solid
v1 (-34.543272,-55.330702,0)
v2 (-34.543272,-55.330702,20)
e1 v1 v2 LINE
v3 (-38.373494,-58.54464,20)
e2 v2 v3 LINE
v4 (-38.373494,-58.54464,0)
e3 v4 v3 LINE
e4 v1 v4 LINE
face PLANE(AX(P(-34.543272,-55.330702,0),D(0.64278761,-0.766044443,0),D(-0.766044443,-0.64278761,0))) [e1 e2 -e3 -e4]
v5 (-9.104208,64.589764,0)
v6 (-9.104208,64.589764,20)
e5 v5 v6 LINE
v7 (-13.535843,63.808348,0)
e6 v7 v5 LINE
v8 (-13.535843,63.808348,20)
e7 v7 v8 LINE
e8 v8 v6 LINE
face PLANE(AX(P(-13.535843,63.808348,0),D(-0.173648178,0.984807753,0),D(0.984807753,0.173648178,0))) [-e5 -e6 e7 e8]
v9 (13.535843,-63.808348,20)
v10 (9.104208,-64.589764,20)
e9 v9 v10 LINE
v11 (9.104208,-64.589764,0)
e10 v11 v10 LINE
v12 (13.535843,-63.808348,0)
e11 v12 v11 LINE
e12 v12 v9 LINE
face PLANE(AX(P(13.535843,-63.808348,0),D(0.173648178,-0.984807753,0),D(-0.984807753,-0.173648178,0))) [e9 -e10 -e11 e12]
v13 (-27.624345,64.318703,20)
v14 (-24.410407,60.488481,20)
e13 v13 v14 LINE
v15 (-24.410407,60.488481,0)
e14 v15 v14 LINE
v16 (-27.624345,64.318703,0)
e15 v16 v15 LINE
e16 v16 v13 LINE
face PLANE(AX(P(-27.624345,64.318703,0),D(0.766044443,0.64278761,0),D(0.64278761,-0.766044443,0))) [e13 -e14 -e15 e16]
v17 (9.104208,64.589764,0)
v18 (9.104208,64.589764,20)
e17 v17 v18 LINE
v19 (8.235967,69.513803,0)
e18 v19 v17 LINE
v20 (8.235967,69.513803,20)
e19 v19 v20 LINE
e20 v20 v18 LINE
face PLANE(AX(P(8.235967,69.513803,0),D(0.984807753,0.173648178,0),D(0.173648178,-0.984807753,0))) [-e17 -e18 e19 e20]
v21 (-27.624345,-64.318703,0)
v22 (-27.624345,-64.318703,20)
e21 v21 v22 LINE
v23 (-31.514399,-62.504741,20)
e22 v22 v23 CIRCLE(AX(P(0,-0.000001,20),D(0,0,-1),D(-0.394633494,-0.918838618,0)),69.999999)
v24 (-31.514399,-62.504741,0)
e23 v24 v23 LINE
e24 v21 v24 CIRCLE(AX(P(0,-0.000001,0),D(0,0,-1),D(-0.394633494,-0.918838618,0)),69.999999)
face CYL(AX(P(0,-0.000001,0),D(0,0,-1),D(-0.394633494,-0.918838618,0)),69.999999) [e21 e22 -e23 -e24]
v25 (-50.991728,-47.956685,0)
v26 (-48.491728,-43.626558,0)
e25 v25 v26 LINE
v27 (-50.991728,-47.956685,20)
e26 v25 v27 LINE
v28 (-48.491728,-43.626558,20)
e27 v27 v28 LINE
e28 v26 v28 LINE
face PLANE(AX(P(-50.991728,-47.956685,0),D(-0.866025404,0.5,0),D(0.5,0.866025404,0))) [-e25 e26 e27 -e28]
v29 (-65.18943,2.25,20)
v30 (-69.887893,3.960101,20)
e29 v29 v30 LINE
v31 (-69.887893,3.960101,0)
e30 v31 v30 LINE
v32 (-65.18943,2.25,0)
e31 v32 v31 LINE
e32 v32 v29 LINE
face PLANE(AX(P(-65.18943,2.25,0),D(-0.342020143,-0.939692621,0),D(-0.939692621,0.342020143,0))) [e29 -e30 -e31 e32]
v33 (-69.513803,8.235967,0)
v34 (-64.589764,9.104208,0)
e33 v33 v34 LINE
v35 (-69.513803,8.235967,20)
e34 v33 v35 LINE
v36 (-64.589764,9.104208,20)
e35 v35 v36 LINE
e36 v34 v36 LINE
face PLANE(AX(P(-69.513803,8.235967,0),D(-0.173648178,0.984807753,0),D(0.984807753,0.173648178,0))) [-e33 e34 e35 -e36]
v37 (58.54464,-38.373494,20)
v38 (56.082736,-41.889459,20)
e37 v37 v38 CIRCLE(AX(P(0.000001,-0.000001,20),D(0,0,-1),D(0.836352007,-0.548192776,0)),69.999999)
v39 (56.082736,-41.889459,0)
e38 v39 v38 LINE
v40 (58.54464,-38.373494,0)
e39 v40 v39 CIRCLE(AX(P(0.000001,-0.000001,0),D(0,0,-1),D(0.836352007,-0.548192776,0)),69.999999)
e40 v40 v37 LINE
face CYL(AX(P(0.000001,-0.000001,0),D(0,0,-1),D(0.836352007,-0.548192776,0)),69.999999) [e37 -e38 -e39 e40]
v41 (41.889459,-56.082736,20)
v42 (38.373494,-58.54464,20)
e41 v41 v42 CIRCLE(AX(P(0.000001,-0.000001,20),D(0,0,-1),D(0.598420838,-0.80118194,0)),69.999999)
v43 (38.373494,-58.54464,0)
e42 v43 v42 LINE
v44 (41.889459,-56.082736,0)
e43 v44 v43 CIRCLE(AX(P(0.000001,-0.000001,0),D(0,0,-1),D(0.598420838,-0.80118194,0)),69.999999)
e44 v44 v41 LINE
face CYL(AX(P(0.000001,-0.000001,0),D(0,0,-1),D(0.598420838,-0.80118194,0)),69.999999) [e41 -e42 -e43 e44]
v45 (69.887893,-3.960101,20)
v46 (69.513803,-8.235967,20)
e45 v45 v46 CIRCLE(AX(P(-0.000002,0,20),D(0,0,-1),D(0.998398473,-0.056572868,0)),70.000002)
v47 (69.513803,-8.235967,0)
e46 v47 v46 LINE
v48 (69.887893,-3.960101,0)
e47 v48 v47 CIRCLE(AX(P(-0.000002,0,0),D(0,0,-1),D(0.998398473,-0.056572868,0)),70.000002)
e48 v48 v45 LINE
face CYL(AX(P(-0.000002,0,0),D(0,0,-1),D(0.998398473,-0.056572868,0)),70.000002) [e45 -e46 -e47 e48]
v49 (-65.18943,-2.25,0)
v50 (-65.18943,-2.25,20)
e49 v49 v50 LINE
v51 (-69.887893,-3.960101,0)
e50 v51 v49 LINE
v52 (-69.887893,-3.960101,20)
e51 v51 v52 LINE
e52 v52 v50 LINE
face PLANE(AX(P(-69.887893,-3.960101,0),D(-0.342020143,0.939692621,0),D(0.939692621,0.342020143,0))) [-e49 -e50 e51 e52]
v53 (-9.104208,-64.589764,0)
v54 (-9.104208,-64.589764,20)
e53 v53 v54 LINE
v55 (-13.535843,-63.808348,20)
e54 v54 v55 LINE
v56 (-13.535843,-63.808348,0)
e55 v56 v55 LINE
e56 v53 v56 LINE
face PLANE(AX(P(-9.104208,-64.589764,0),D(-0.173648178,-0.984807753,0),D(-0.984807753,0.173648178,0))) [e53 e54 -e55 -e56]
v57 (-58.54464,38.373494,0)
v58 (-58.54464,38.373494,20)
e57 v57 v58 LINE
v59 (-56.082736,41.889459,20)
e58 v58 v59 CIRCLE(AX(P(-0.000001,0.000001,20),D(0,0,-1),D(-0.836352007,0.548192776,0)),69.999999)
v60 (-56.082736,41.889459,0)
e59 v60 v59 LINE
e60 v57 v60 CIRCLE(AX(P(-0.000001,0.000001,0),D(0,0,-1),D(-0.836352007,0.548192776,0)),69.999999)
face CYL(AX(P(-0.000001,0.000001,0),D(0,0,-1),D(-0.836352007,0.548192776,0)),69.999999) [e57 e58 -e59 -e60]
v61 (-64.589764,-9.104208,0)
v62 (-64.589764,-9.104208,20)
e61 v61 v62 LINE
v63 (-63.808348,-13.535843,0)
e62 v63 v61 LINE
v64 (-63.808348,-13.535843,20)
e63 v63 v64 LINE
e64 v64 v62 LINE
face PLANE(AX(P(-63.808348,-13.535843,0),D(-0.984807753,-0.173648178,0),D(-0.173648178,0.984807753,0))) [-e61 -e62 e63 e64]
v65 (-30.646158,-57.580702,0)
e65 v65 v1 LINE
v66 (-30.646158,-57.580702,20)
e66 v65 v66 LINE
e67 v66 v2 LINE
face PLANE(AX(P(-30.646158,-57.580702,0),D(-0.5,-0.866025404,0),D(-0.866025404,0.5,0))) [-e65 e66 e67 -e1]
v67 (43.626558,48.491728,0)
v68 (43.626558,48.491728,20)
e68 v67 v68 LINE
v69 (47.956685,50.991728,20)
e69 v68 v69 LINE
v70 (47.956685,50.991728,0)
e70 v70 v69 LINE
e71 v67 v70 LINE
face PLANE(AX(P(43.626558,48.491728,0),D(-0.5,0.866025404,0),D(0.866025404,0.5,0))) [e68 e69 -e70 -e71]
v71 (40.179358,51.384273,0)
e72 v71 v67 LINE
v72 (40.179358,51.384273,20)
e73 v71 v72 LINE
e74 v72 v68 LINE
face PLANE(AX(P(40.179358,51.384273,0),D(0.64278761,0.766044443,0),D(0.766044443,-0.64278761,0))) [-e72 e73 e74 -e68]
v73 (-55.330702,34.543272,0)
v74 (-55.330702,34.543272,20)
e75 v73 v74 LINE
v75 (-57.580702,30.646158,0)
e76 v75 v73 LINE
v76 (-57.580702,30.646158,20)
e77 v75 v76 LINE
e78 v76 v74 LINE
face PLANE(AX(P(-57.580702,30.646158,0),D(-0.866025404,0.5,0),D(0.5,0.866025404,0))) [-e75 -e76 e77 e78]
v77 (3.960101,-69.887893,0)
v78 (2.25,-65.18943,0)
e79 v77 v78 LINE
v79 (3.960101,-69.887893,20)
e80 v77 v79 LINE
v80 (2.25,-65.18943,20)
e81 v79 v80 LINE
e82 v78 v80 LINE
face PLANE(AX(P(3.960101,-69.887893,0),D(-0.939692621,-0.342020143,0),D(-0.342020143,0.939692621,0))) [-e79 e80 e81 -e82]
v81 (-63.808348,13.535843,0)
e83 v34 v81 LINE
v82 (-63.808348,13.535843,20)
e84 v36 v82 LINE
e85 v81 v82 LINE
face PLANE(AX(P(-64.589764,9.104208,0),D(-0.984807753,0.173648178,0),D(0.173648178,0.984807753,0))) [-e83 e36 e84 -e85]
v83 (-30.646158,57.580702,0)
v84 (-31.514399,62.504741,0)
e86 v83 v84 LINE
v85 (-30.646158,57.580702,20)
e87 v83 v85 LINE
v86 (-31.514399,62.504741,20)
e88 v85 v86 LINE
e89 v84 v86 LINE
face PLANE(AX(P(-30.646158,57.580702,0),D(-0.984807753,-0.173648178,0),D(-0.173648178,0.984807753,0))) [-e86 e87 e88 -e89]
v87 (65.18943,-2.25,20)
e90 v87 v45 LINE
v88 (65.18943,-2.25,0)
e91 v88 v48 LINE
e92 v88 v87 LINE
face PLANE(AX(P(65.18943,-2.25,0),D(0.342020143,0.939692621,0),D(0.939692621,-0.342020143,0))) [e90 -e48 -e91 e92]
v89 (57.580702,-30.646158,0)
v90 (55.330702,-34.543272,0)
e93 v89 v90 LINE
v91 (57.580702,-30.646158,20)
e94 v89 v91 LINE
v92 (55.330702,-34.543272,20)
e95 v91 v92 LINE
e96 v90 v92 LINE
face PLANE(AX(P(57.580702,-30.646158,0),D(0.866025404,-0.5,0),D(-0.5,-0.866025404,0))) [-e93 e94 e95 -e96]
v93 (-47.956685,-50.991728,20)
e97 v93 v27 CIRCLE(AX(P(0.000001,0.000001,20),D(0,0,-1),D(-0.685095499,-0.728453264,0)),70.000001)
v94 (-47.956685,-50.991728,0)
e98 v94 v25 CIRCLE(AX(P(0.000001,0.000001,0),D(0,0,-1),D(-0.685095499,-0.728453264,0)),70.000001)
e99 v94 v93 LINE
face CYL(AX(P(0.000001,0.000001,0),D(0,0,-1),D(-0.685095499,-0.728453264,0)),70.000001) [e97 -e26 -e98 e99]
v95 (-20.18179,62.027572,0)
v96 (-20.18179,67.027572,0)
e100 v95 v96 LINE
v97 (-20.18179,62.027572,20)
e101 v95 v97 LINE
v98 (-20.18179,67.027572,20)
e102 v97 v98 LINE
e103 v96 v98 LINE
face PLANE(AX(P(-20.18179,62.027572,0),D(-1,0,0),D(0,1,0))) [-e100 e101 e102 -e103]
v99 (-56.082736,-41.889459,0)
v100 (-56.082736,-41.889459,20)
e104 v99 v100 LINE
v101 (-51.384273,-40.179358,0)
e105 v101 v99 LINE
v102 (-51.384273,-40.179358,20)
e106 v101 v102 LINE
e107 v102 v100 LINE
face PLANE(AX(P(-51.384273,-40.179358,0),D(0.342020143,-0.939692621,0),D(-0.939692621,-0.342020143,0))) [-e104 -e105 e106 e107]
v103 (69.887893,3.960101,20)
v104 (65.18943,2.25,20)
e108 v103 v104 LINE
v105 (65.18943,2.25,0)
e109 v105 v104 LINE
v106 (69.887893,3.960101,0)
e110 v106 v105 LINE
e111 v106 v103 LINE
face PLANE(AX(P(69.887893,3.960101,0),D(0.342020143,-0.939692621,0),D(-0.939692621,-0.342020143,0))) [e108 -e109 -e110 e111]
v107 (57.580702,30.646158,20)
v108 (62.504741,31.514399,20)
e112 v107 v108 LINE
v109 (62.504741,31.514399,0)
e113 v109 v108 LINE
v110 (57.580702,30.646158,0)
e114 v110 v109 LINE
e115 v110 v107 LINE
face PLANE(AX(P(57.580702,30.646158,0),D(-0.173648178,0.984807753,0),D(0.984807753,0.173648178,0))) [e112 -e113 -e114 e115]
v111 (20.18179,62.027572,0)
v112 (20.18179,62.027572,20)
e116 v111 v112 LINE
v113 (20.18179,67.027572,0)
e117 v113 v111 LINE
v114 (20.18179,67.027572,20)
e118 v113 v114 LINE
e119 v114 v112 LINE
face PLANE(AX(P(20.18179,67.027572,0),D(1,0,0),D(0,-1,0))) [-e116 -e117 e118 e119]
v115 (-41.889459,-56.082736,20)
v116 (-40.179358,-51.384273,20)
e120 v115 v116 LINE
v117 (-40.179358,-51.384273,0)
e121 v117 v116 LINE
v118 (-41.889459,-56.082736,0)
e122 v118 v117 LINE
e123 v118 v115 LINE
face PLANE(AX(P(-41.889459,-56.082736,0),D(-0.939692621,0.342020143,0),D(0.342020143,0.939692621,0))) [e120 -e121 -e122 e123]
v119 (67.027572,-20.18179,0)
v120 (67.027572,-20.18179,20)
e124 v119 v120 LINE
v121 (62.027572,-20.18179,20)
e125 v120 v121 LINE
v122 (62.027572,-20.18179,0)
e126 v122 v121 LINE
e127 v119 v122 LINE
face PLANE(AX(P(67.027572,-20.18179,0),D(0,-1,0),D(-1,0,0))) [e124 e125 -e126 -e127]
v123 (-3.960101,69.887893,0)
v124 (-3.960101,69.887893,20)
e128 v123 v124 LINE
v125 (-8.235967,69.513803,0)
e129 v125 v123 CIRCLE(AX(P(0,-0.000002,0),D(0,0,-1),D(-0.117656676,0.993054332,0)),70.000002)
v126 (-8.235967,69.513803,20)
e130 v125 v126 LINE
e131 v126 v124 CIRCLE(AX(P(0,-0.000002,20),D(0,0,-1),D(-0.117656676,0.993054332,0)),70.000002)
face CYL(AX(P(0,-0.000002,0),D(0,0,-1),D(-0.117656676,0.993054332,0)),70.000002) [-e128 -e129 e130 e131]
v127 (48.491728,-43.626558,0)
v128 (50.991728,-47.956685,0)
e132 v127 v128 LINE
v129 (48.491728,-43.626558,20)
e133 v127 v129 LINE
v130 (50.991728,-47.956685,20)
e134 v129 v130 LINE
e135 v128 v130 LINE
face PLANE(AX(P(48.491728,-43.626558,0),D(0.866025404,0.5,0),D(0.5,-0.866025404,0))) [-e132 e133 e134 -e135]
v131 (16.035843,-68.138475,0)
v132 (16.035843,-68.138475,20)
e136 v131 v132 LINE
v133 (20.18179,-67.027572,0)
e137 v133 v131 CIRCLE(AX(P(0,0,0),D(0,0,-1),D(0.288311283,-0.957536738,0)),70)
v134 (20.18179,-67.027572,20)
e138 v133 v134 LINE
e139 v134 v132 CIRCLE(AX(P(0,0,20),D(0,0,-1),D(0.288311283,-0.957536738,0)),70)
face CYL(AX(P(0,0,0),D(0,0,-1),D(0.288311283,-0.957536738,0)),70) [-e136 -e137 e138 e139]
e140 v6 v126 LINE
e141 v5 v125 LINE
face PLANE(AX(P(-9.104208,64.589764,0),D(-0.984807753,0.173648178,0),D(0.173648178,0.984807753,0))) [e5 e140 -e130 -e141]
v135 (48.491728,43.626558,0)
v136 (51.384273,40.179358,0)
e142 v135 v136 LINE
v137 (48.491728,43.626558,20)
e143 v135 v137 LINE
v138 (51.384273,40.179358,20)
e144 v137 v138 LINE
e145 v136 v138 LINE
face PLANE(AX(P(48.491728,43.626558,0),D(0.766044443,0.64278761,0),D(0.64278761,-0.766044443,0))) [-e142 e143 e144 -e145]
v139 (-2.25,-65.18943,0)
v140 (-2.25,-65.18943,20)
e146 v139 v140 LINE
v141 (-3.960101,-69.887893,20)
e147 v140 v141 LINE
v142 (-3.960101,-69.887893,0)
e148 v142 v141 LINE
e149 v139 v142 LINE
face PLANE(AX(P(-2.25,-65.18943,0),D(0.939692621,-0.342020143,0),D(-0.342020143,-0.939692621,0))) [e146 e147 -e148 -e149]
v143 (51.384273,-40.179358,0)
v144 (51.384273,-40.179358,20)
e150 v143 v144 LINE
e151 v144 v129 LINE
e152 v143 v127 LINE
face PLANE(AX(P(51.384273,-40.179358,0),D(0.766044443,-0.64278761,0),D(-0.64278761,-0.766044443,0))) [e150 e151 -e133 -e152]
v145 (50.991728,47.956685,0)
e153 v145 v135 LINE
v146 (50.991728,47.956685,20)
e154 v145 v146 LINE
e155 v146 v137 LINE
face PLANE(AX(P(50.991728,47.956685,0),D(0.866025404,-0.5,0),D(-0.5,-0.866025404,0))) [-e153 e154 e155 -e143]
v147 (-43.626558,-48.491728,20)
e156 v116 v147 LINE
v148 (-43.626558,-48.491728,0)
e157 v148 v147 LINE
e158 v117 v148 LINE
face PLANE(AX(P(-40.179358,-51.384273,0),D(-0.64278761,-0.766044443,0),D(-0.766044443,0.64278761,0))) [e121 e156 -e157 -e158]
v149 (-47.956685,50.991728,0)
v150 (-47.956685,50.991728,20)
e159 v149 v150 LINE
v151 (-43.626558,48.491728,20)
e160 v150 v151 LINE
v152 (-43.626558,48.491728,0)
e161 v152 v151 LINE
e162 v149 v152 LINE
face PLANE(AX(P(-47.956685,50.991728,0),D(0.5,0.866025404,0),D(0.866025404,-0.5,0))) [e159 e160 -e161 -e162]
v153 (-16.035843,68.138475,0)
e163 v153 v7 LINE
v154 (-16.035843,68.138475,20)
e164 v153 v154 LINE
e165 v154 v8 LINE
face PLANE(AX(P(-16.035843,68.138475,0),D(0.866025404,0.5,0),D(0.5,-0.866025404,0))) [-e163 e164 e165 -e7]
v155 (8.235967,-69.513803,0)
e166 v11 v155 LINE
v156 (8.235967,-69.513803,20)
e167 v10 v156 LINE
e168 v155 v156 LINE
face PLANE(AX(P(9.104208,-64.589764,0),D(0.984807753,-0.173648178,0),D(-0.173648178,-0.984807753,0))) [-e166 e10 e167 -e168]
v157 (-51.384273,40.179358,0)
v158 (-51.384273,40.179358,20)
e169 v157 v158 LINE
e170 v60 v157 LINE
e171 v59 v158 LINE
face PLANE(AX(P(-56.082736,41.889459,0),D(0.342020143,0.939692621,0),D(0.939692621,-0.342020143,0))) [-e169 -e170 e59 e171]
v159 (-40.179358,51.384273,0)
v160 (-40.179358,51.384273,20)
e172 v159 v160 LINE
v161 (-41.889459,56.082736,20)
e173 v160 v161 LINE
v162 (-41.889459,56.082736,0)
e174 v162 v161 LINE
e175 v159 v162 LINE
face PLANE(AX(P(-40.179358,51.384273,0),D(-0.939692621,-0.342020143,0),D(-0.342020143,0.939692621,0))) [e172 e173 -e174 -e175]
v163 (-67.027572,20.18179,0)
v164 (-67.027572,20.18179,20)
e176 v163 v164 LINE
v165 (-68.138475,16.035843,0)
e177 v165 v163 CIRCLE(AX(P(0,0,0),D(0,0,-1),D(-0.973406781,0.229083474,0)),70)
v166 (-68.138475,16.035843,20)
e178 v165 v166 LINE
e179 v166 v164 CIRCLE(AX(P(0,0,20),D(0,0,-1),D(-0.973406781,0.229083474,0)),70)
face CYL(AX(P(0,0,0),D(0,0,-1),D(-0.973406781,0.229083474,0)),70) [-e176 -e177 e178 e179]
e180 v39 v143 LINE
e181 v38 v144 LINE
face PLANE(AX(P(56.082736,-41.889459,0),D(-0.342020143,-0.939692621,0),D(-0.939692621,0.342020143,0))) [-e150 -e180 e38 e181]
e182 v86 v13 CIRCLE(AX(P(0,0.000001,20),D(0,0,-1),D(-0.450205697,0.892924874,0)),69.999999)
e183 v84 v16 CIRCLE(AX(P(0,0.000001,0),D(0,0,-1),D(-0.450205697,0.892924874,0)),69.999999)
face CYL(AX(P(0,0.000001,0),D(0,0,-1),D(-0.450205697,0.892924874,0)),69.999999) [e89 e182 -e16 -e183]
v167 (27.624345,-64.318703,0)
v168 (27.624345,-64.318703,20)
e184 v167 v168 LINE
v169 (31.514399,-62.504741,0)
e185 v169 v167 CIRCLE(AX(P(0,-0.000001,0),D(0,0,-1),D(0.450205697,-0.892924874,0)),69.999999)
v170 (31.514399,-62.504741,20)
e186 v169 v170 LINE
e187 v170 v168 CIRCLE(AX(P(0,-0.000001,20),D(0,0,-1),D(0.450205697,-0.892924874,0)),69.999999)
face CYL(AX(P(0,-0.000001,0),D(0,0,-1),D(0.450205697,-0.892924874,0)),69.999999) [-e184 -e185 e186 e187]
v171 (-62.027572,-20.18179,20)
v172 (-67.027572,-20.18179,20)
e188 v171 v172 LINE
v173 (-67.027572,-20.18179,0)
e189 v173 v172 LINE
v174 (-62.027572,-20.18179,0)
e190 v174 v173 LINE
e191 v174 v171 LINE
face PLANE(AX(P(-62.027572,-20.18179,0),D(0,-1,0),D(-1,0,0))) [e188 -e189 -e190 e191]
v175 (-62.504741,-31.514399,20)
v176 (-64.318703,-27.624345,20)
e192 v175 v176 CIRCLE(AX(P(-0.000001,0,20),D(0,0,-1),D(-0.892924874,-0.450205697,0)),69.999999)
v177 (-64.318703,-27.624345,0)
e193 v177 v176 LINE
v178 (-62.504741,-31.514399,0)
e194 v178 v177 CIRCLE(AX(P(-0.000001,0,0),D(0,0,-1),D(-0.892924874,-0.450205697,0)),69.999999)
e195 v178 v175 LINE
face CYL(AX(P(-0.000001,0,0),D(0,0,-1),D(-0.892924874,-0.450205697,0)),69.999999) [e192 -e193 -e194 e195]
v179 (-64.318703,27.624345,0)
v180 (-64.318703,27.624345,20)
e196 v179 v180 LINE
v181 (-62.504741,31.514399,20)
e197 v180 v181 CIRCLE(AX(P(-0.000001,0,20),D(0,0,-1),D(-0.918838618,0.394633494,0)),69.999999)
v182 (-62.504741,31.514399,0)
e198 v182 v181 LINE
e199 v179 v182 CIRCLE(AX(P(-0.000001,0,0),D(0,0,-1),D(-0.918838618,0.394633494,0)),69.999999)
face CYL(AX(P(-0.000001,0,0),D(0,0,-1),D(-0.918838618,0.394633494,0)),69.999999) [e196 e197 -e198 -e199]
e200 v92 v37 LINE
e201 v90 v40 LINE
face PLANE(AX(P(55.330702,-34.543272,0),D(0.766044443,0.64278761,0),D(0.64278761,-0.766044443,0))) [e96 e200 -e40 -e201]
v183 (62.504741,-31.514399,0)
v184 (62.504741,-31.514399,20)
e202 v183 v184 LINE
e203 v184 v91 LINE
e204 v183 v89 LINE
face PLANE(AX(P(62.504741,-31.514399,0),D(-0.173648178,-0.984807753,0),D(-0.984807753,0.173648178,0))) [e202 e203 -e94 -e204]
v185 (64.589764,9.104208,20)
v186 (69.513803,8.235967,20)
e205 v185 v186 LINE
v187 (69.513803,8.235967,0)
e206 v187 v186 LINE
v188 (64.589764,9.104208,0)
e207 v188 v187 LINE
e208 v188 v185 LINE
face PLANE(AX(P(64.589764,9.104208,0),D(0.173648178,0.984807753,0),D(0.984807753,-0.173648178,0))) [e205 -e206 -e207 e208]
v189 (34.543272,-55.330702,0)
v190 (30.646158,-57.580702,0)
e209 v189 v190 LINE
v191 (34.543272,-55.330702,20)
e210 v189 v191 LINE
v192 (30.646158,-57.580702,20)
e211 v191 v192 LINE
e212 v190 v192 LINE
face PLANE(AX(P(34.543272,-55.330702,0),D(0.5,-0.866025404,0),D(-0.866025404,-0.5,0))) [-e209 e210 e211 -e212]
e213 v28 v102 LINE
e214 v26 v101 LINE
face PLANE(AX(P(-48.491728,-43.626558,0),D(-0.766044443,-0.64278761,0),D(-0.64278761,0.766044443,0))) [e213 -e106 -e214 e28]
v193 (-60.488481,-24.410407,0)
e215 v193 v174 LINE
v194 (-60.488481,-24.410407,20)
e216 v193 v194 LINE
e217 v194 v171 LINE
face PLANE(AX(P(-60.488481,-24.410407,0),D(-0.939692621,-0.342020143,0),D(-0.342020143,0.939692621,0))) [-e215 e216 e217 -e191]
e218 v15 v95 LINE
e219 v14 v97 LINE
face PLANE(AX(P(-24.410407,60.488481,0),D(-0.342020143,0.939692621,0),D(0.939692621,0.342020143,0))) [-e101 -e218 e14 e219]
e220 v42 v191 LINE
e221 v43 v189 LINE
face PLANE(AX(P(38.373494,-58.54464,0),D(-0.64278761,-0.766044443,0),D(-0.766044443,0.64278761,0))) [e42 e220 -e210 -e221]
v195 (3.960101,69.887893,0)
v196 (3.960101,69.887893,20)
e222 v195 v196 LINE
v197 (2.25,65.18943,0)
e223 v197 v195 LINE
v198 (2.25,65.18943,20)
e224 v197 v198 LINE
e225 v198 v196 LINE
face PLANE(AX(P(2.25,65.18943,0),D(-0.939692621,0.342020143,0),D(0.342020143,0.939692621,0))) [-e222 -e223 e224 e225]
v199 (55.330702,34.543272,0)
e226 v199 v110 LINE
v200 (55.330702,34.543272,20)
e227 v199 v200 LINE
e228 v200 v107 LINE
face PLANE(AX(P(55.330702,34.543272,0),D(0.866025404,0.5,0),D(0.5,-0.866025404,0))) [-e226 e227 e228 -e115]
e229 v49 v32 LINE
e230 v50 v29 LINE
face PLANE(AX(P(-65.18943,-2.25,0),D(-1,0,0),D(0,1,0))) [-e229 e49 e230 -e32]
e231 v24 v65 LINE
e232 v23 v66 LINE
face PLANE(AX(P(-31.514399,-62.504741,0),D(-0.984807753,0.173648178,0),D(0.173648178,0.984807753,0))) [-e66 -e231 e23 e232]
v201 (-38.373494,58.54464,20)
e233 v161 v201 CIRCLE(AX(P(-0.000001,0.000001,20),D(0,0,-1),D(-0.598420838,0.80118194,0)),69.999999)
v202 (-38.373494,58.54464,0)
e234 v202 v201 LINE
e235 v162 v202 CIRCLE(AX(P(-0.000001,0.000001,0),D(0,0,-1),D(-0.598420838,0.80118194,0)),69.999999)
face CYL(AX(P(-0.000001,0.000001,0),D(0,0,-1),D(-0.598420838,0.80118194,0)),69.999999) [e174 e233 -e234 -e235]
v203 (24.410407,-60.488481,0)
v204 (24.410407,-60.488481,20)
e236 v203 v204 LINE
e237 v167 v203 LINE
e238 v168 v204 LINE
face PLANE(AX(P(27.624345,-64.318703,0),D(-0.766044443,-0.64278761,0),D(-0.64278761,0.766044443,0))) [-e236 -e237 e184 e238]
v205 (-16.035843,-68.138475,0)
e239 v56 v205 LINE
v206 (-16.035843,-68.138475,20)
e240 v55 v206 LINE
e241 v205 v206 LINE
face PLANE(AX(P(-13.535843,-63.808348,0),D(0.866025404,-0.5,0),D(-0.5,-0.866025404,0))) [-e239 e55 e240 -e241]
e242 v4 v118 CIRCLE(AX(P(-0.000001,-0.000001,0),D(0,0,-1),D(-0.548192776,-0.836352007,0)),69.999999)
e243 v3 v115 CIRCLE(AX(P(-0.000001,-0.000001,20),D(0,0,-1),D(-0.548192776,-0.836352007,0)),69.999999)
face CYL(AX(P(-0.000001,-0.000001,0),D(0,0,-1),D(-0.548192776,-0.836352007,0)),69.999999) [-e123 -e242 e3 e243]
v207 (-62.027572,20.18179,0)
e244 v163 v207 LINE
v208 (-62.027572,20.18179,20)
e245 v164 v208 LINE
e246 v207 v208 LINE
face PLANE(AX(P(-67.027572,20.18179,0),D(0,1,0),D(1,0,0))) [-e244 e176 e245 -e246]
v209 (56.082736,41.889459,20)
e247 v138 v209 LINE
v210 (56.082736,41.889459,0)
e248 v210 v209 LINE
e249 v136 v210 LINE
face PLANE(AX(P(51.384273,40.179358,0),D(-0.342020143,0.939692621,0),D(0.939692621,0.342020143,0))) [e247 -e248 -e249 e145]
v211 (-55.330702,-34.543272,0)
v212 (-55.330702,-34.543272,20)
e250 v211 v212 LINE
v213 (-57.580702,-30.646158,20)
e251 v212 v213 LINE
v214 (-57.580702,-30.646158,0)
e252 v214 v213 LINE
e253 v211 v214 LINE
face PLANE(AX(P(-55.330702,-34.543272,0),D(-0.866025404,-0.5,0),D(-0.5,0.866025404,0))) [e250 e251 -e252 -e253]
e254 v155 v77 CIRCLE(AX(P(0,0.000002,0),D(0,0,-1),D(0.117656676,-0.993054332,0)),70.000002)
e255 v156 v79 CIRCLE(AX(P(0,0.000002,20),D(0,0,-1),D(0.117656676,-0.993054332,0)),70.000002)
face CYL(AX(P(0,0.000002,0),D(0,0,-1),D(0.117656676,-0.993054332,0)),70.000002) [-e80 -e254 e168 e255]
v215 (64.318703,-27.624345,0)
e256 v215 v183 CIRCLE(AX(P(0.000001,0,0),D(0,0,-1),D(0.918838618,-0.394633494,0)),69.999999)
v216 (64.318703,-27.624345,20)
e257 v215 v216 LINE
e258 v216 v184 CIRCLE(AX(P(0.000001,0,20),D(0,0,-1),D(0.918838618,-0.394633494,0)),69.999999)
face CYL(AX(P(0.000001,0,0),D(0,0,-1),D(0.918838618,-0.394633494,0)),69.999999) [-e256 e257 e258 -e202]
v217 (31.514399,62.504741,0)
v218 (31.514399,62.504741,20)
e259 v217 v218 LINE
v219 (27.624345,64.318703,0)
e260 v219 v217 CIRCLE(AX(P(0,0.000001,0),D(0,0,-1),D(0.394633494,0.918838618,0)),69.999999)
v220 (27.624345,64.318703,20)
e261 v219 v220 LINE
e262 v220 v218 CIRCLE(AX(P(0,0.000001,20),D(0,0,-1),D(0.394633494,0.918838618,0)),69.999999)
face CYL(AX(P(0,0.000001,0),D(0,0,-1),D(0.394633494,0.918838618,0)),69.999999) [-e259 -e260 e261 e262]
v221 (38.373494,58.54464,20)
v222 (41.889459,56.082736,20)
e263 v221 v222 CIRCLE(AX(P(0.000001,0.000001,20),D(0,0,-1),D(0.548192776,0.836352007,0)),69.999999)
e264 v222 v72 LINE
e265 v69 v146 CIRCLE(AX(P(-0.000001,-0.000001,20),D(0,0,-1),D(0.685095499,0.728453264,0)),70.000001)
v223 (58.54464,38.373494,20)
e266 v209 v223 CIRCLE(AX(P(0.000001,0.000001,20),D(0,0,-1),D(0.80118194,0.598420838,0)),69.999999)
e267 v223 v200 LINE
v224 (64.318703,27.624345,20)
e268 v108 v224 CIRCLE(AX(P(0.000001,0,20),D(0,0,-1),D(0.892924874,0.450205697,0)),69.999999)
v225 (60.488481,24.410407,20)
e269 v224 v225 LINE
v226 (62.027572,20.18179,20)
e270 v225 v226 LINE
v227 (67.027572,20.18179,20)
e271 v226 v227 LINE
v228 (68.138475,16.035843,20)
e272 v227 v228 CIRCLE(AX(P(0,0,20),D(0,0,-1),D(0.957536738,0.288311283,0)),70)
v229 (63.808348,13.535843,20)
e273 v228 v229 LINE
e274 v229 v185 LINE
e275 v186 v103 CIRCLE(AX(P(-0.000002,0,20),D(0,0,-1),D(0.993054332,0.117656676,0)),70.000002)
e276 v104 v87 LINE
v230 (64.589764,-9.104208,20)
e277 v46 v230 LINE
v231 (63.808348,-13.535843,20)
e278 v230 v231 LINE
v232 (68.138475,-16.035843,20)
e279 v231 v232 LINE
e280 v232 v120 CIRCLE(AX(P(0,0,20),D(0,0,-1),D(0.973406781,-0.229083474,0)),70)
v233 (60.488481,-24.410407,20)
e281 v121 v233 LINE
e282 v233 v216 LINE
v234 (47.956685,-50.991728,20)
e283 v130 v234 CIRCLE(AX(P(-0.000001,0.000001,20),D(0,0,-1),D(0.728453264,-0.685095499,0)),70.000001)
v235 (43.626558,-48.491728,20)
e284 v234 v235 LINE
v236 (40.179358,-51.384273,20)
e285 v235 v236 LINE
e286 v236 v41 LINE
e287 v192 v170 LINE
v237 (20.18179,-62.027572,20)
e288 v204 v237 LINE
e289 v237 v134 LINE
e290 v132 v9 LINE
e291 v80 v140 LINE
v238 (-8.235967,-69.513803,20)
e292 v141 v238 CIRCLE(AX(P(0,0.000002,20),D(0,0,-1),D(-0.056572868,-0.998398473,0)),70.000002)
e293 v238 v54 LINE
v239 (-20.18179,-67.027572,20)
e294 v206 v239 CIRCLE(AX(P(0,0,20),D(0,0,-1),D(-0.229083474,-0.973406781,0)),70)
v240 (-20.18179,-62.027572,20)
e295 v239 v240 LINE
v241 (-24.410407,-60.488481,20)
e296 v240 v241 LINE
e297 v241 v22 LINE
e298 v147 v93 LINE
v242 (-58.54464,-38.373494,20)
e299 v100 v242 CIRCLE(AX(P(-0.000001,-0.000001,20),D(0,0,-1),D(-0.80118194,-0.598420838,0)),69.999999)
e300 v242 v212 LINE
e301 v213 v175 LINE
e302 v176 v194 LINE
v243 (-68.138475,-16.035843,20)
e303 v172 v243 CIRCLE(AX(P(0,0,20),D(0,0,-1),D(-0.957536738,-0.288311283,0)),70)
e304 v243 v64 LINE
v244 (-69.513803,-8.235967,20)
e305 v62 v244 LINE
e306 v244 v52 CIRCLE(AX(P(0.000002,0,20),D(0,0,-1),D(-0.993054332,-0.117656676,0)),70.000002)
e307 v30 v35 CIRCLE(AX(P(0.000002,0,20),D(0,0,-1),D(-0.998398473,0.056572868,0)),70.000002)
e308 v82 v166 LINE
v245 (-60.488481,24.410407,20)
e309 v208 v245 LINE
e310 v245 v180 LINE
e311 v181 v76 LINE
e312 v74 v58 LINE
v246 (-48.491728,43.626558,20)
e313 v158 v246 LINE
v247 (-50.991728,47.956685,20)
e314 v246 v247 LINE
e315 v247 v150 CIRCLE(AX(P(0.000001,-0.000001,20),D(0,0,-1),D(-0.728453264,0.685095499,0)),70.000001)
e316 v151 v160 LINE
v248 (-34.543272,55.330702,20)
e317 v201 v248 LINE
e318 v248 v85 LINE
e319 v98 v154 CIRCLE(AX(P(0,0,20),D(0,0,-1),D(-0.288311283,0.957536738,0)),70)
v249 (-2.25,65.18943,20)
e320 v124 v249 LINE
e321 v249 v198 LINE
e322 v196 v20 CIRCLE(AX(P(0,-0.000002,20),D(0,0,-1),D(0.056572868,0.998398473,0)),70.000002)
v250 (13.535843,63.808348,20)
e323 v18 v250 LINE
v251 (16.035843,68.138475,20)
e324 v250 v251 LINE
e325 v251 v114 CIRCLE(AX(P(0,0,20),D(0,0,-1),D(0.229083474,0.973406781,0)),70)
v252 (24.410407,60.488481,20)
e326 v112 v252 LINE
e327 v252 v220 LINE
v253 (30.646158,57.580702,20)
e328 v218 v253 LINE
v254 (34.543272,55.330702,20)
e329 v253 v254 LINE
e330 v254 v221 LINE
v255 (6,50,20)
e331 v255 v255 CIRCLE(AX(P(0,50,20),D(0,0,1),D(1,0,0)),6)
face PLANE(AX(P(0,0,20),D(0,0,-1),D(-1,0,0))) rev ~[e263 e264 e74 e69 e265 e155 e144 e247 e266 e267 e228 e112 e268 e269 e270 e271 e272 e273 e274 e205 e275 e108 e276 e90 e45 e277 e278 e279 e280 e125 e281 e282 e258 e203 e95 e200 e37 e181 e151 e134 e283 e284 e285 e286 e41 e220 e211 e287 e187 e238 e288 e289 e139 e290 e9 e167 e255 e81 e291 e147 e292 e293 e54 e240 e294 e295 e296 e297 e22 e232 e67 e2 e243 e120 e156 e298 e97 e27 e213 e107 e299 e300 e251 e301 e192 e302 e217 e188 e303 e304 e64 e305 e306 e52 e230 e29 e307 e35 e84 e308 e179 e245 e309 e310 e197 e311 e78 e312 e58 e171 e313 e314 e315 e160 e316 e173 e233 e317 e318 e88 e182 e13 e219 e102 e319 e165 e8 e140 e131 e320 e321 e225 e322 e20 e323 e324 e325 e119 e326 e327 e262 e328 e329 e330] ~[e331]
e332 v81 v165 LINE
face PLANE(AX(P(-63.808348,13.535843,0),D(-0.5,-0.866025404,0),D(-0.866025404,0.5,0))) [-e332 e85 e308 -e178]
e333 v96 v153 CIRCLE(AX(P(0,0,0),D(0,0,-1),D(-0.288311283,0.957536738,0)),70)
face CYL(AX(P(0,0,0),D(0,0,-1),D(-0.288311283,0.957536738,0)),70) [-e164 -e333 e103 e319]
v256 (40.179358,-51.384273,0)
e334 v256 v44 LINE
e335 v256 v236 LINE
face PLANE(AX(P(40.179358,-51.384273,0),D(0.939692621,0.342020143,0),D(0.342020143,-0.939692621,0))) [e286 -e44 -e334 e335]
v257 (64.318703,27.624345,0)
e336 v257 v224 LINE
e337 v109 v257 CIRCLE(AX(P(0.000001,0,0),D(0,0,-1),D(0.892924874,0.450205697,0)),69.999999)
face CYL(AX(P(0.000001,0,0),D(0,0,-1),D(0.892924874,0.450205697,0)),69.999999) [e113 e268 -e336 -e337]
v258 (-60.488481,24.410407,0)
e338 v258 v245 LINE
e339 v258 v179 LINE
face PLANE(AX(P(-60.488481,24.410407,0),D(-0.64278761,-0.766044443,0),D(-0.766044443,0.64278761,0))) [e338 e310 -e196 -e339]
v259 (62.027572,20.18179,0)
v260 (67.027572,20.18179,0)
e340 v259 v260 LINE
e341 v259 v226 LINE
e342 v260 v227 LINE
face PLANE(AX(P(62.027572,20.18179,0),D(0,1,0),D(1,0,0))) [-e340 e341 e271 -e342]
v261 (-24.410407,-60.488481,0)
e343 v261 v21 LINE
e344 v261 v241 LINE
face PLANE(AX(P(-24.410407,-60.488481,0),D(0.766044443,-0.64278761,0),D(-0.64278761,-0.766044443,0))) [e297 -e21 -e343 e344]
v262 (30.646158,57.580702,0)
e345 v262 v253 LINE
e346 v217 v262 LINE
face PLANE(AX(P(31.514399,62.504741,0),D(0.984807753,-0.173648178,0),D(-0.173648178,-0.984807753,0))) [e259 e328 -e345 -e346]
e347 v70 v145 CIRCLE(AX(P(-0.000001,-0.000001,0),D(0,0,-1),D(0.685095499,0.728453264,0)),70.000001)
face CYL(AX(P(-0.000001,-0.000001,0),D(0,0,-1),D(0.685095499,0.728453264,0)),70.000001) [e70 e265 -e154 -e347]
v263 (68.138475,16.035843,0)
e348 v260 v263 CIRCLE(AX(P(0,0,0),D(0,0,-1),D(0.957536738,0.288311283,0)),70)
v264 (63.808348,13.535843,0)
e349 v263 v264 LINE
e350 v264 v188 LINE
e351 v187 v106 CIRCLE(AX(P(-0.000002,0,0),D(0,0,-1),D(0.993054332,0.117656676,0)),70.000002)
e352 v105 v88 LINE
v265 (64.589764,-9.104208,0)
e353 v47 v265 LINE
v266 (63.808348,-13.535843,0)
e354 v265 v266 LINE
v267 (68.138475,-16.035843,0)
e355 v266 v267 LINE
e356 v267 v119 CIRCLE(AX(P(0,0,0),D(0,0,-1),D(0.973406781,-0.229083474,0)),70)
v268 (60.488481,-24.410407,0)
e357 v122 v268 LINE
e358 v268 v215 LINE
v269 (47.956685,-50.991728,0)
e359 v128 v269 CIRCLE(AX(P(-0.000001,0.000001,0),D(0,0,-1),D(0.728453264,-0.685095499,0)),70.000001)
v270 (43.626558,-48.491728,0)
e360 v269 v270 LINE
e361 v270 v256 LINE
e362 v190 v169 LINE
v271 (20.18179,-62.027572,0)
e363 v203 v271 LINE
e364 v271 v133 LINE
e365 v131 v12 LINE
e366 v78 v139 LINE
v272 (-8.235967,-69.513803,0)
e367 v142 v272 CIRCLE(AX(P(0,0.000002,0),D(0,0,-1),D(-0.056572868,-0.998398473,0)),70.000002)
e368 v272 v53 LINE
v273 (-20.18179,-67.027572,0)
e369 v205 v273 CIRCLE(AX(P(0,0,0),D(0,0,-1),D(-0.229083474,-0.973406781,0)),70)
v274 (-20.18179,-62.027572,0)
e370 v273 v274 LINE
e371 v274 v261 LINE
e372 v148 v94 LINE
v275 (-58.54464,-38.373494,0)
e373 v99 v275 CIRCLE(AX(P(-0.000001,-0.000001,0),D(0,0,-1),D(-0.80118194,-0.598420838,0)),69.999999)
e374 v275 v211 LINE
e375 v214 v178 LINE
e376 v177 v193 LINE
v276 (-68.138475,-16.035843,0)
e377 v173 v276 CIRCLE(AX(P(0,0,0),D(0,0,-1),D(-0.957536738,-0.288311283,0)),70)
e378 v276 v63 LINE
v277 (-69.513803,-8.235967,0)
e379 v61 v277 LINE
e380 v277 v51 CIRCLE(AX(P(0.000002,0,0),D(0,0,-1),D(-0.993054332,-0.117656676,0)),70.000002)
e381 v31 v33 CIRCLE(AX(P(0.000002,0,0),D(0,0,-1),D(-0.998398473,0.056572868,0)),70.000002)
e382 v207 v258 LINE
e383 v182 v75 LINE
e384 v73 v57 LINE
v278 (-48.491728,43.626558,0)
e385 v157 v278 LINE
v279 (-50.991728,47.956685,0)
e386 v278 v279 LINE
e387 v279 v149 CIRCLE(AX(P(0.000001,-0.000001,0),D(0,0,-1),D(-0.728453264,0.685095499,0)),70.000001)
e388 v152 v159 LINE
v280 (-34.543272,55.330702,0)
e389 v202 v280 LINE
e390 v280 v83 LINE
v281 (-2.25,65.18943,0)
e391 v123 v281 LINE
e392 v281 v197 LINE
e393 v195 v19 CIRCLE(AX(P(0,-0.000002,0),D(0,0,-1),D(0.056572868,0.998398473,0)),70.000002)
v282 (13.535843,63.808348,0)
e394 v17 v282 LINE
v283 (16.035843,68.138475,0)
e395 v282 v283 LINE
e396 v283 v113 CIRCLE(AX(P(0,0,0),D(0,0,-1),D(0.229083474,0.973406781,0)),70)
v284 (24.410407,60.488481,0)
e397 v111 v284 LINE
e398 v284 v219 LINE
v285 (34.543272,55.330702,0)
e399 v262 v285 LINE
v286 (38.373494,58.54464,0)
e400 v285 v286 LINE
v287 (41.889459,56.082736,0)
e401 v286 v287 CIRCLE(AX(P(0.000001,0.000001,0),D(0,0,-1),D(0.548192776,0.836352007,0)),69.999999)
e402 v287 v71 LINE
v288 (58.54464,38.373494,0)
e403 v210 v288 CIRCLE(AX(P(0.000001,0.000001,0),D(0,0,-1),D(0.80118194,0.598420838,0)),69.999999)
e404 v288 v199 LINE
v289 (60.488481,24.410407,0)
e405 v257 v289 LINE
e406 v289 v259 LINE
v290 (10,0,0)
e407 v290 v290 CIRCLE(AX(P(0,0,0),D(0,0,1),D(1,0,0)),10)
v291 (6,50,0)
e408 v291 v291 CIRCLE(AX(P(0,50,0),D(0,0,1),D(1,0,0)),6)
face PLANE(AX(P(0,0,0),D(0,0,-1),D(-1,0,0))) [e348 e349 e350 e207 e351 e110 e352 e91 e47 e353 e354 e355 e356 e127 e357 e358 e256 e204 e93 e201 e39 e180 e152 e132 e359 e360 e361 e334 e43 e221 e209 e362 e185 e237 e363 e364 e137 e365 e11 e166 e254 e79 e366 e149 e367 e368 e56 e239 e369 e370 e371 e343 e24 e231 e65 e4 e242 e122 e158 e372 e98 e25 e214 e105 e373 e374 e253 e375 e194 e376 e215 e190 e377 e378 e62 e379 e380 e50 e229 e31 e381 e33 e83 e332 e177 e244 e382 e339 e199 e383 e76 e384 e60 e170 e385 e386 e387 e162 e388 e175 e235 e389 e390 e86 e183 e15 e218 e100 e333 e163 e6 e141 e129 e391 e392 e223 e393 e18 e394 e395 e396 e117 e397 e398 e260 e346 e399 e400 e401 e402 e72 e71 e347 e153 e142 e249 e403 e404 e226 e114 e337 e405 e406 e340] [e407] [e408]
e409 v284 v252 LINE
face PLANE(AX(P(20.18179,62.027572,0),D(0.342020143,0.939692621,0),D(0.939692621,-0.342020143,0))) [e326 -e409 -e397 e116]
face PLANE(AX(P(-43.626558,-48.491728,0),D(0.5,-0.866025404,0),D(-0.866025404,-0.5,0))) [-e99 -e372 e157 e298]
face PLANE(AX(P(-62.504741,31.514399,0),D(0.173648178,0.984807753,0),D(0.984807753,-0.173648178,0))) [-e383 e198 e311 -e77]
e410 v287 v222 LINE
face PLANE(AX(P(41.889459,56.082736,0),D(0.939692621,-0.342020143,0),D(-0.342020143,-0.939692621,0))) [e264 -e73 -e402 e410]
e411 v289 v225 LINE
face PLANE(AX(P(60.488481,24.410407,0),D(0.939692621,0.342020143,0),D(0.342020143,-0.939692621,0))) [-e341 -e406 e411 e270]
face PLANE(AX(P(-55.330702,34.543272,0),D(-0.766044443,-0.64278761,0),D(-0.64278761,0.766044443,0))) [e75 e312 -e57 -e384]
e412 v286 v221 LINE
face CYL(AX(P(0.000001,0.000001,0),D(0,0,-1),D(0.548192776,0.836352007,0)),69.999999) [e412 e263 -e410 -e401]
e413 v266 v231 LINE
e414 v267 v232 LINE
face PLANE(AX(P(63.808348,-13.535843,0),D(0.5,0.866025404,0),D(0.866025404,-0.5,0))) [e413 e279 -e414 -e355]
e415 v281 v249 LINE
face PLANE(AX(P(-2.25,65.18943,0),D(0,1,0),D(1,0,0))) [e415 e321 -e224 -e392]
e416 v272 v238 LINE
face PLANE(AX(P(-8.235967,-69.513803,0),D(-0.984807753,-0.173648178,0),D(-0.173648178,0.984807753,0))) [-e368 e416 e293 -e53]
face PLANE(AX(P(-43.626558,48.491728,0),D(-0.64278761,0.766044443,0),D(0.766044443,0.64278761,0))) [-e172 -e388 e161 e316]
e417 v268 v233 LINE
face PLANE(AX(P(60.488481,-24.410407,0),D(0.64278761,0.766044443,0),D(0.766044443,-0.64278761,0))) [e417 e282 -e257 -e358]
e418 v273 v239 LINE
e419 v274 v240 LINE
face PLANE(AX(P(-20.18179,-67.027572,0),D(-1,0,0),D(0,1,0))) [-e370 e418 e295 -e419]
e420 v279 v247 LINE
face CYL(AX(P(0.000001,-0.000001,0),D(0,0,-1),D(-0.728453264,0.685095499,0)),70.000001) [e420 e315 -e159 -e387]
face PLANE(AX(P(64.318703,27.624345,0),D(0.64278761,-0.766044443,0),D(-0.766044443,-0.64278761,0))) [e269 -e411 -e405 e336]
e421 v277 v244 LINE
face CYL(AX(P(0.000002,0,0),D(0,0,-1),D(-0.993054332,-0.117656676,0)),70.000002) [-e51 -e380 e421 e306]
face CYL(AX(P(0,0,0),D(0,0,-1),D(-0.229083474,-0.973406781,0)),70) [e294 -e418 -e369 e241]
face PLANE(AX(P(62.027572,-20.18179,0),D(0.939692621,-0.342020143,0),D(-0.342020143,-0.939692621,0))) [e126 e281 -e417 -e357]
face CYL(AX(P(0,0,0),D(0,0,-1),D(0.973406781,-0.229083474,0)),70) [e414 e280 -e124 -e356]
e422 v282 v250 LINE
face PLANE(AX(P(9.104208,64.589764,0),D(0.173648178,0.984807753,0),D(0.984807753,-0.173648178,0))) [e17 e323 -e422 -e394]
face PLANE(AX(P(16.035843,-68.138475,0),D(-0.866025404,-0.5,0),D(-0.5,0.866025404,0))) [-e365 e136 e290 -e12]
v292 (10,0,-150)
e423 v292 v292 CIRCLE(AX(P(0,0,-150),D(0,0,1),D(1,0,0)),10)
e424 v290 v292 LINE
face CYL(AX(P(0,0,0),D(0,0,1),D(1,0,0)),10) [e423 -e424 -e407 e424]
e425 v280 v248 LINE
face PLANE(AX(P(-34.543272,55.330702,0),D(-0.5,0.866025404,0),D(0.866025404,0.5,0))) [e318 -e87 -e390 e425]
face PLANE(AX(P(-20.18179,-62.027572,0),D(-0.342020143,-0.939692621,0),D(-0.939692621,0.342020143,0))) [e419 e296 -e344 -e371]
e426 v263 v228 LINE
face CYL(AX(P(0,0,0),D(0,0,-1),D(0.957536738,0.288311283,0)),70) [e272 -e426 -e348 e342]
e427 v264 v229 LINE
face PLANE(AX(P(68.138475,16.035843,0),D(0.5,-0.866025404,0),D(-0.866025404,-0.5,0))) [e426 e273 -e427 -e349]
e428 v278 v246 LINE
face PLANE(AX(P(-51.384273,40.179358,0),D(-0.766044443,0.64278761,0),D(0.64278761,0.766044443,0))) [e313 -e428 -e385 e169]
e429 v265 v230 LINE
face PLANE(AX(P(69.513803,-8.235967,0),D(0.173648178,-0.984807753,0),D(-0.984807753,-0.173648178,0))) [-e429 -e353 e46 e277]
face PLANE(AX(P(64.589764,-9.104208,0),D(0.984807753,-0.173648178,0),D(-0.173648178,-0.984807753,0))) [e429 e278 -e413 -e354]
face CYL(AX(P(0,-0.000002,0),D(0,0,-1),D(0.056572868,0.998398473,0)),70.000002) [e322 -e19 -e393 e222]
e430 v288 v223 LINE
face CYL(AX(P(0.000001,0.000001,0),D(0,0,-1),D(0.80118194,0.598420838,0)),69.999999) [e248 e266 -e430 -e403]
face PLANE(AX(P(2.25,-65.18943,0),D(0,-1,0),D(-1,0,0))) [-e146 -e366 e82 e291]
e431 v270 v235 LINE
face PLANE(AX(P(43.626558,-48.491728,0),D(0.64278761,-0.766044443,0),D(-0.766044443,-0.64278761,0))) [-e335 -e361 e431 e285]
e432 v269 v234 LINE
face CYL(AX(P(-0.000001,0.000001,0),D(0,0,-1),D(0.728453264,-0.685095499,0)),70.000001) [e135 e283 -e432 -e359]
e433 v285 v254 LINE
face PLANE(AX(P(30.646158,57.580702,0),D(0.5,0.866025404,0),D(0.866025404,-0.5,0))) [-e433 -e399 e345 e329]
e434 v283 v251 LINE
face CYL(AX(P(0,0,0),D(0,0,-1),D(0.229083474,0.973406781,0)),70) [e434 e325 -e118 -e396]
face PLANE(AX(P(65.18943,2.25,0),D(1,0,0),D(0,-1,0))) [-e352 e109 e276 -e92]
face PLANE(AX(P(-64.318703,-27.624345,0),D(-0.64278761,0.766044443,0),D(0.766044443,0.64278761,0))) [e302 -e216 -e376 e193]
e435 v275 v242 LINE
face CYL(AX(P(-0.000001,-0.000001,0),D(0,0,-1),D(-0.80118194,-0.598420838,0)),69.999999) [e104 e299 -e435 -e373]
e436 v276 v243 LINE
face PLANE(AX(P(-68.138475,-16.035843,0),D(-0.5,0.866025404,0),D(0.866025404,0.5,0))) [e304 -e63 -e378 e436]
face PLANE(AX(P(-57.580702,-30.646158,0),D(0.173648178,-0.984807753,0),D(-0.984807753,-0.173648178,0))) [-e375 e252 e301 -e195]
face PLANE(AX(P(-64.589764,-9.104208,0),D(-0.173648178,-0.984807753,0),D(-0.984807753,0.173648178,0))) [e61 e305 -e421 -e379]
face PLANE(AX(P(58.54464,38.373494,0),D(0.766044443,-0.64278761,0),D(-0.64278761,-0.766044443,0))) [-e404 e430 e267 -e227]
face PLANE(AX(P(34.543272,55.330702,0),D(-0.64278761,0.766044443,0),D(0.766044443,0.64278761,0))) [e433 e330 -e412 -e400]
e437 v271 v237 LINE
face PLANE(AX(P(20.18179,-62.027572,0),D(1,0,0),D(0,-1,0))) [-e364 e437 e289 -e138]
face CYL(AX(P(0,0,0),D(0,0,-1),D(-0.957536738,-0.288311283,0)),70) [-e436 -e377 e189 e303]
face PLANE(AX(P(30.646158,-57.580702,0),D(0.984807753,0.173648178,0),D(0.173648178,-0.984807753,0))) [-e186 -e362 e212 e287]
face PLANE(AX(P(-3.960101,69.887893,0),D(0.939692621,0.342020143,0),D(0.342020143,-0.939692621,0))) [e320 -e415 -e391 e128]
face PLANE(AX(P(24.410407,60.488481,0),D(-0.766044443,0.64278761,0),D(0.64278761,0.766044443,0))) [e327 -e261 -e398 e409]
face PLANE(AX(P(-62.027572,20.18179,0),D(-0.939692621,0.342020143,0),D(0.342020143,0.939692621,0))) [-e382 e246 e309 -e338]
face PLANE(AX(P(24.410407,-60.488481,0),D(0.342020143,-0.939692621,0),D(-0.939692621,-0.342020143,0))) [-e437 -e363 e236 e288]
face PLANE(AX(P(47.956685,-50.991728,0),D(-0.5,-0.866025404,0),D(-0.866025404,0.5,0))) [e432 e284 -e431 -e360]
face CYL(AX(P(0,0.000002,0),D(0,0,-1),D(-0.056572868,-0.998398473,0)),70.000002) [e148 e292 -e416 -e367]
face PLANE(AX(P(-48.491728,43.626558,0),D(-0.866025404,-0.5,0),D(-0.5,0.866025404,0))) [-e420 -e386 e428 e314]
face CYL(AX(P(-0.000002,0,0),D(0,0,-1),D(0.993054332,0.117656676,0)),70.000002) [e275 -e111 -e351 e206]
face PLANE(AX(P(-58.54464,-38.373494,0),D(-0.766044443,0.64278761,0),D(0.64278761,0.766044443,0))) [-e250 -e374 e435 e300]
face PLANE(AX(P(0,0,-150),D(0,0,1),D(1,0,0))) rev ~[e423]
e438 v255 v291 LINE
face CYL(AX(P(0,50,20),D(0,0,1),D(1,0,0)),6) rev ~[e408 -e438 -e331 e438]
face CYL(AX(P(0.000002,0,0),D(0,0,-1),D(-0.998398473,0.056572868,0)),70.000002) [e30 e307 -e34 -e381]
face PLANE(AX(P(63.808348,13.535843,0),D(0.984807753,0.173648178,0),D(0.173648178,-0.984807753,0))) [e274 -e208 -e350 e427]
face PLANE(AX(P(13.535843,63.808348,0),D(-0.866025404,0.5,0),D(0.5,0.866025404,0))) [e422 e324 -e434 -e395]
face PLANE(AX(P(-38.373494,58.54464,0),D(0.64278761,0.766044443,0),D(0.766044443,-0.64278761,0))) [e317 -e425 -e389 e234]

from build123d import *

# Parameters (mm, degrees)
BOSS_EXTRUDE1_DEPTH = 20
SKETCH2_R           = 10
BOSS_EXTRUDE2_DEPTH = 150
SKETCH3_R           = 6
CUT_EXTRUDE1_DEPTH  = 197.643421463


with BuildPart() as part:
    # Sketch1 → Boss-Extrude1 (new body)
    with BuildSketch(Plane.XY):
        with BuildLine():
            Line((-3.960100717, 69.887893103), (-2.25, 65.189429999))
            Line((-2.25, 65.189429999), (2.25, 65.189429999))
            Line((2.25, 65.189429999), (3.960100717, 69.887893103))
            ThreePointArc((3.960100717, 69.887893103), (6.100901992, 69.733628866), (8.23596739, 69.513803242))
            Line((8.23596739, 69.513803242), (9.104208278, 64.589764477))
            Line((9.104208278, 64.589764477), (13.535843167, 63.808347677))
            Line((13.535843167, 63.808347677), (16.035843167, 68.138474696))
            ThreePointArc((16.035843167, 68.138474696), (18.117333157, 67.61480784), (20.181789795, 67.027571645))
            Line((20.181789795, 67.027571645), (20.181789795, 62.027571645))
            Line((20.181789795, 62.027571645), (24.410406588, 60.488481))
            Line((24.410406588, 60.488481), (27.624344637, 64.318703216))
            ThreePointArc((27.624344637, 64.318703216), (29.583278322, 63.441545093), (31.514398729, 62.504741202))
            Line((31.514398729, 62.504741202), (30.646157841, 57.580702437))
            Line((30.646157841, 57.580702437), (34.543272158, 55.330702437))
            Line((34.543272158, 55.330702437), (38.373494373, 58.544640485))
            ThreePointArc((38.373494373, 58.544640485), (40.150350545, 57.3406431), (41.889458605, 56.082735826))
            Line((41.889458605, 56.082735826), (40.179357889, 51.384272722))
            Line((40.179357889, 51.384272722), (43.626557883, 48.491728479))
            Line((43.626557883, 48.491728479), (47.956684902, 50.991728479))
            ThreePointArc((47.956684902, 50.991728479), (49.497474683, 49.497474683), (50.991728479, 47.956684902))
            Line((50.991728479, 47.956684902), (48.491728479, 43.626557883))
            Line((48.491728479, 43.626557883), (51.384272722, 40.179357889))
            Line((51.384272722, 40.179357889), (56.082735826, 41.889458605))
            ThreePointArc((56.082735826, 41.889458605), (57.3406431, 40.150350545), (58.544640485, 38.373494373))
            Line((58.544640485, 38.373494373), (55.330702437, 34.543272158))
            Line((55.330702437, 34.543272158), (57.580702437, 30.646157841))
            Line((57.580702437, 30.646157841), (62.504741202, 31.514398729))
            ThreePointArc((62.504741202, 31.514398729), (63.441545093, 29.583278322), (64.318703216, 27.624344637))
            Line((64.318703216, 27.624344637), (60.488481, 24.410406588))
            Line((60.488481, 24.410406588), (62.027571645, 20.181789795))
            Line((62.027571645, 20.181789795), (67.027571645, 20.181789795))
            ThreePointArc((67.027571645, 20.181789795), (67.61480784, 18.117333157), (68.138474696, 16.035843167))
            Line((68.138474696, 16.035843167), (63.808347677, 13.535843167))
            Line((63.808347677, 13.535843167), (64.589764477, 9.104208278))
            Line((64.589764477, 9.104208278), (69.513803242, 8.23596739))
            ThreePointArc((69.513803242, 8.23596739), (69.733628866, 6.100901992), (69.887893103, 3.960100717))
            Line((69.887893103, 3.960100717), (65.189429999, 2.25))
            Line((65.189429999, 2.25), (65.189429999, -2.25))
            Line((65.189429999, -2.25), (69.887893103, -3.960100717))
            ThreePointArc((69.887893103, -3.960100717), (69.733628866, -6.100901992), (69.513803242, -8.23596739))
            Line((69.513803242, -8.23596739), (64.589764477, -9.104208278))
            Line((64.589764477, -9.104208278), (63.808347677, -13.535843167))
            Line((63.808347677, -13.535843167), (68.138474696, -16.035843167))
            ThreePointArc((68.138474696, -16.035843167), (67.61480784, -18.117333157), (67.027571645, -20.181789795))
            Line((67.027571645, -20.181789795), (62.027571645, -20.181789795))
            Line((62.027571645, -20.181789795), (60.488481, -24.410406588))
            Line((60.488481, -24.410406588), (64.318703216, -27.624344637))
            ThreePointArc((64.318703216, -27.624344637), (63.441545093, -29.583278322), (62.504741202, -31.514398729))
            Line((62.504741202, -31.514398729), (57.580702437, -30.646157841))
            Line((57.580702437, -30.646157841), (55.330702437, -34.543272158))
            Line((55.330702437, -34.543272158), (58.544640485, -38.373494373))
            ThreePointArc((58.544640485, -38.373494373), (57.3406431, -40.150350545), (56.082735826, -41.889458605))
            Line((56.082735826, -41.889458605), (51.384272722, -40.179357889))
            Line((51.384272722, -40.179357889), (48.491728479, -43.626557883))
            Line((48.491728479, -43.626557883), (50.991728479, -47.956684902))
            ThreePointArc((50.991728479, -47.956684902), (49.497474683, -49.497474683), (47.956684902, -50.991728479))
            Line((47.956684902, -50.991728479), (43.626557883, -48.491728479))
            Line((43.626557883, -48.491728479), (40.179357889, -51.384272722))
            Line((40.179357889, -51.384272722), (41.889458605, -56.082735826))
            ThreePointArc((41.889458605, -56.082735826), (40.150350545, -57.3406431), (38.373494373, -58.544640485))
            Line((38.373494373, -58.544640485), (34.543272158, -55.330702437))
            Line((34.543272158, -55.330702437), (30.646157841, -57.580702437))
            Line((30.646157841, -57.580702437), (31.514398729, -62.504741202))
            ThreePointArc((31.514398729, -62.504741202), (29.583278322, -63.441545093), (27.624344637, -64.318703216))
            Line((27.624344637, -64.318703216), (24.410406588, -60.488481))
            Line((24.410406588, -60.488481), (20.181789795, -62.027571645))
            Line((20.181789795, -62.027571645), (20.181789795, -67.027571645))
            ThreePointArc((20.181789795, -67.027571645), (18.117333157, -67.61480784), (16.035843167, -68.138474696))
            Line((16.035843167, -68.138474696), (13.535843167, -63.808347677))
            Line((13.535843167, -63.808347677), (9.104208278, -64.589764477))
            Line((9.104208278, -64.589764477), (8.23596739, -69.513803242))
            ThreePointArc((8.23596739, -69.513803242), (6.100901992, -69.733628866), (3.960100717, -69.887893103))
            Line((3.960100717, -69.887893103), (2.25, -65.189429999))
            Line((2.25, -65.189429999), (-2.25, -65.189429999))
            Line((-2.25, -65.189429999), (-3.960100717, -69.887893103))
            ThreePointArc((-3.960100717, -69.887893103), (-6.100901992, -69.733628866), (-8.23596739, -69.513803242))
            Line((-8.23596739, -69.513803242), (-9.104208278, -64.589764477))
            Line((-9.104208278, -64.589764477), (-13.535843167, -63.808347677))
            Line((-13.535843167, -63.808347677), (-16.035843167, -68.138474696))
            ThreePointArc((-16.035843167, -68.138474696), (-18.117333157, -67.61480784), (-20.181789795, -67.027571645))
            Line((-20.181789795, -67.027571645), (-20.181789795, -62.027571645))
            Line((-20.181789795, -62.027571645), (-24.410406588, -60.488481))
            Line((-24.410406588, -60.488481), (-27.624344637, -64.318703216))
            ThreePointArc((-27.624344637, -64.318703216), (-29.583278322, -63.441545093), (-31.514398729, -62.504741202))
            Line((-31.514398729, -62.504741202), (-30.646157841, -57.580702437))
            Line((-30.646157841, -57.580702437), (-34.543272158, -55.330702437))
            Line((-34.543272158, -55.330702437), (-38.373494373, -58.544640485))
            ThreePointArc((-38.373494373, -58.544640485), (-40.150350545, -57.3406431), (-41.889458605, -56.082735826))
            Line((-41.889458605, -56.082735826), (-40.179357889, -51.384272722))
            Line((-40.179357889, -51.384272722), (-43.626557883, -48.491728479))
            Line((-43.626557883, -48.491728479), (-47.956684902, -50.991728479))
            ThreePointArc((-47.956684902, -50.991728479), (-49.497474683, -49.497474683), (-50.991728479, -47.956684902))
            Line((-50.991728479, -47.956684902), (-48.491728479, -43.626557883))
            Line((-48.491728479, -43.626557883), (-51.384272722, -40.179357889))
            Line((-51.384272722, -40.179357889), (-56.082735826, -41.889458605))
            ThreePointArc((-56.082735826, -41.889458605), (-57.3406431, -40.150350545), (-58.544640485, -38.373494373))
            Line((-58.544640485, -38.373494373), (-55.330702437, -34.543272158))
            Line((-55.330702437, -34.543272158), (-57.580702437, -30.646157841))
            Line((-57.580702437, -30.646157841), (-62.504741202, -31.514398729))
            ThreePointArc((-62.504741202, -31.514398729), (-63.441545093, -29.583278322), (-64.318703216, -27.624344637))
            Line((-64.318703216, -27.624344637), (-60.488481, -24.410406588))
            Line((-60.488481, -24.410406588), (-62.027571645, -20.181789795))
            Line((-62.027571645, -20.181789795), (-67.027571645, -20.181789795))
            ThreePointArc((-67.027571645, -20.181789795), (-67.61480784, -18.117333157), (-68.138474696, -16.035843167))
            Line((-68.138474696, -16.035843167), (-63.808347677, -13.535843167))
            Line((-63.808347677, -13.535843167), (-64.589764477, -9.104208278))
            Line((-64.589764477, -9.104208278), (-69.513803242, -8.23596739))
            ThreePointArc((-69.513803242, -8.23596739), (-69.733628866, -6.100901992), (-69.887893103, -3.960100717))
            Line((-69.887893103, -3.960100717), (-65.189429999, -2.25))
            Line((-65.189429999, -2.25), (-65.189429999, 2.25))
            Line((-65.189429999, 2.25), (-69.887893103, 3.960100717))
            ThreePointArc((-69.887893103, 3.960100717), (-69.733628866, 6.100901992), (-69.513803242, 8.23596739))
            Line((-69.513803242, 8.23596739), (-64.589764477, 9.104208278))
            Line((-64.589764477, 9.104208278), (-63.808347677, 13.535843167))
            Line((-63.808347677, 13.535843167), (-68.138474696, 16.035843167))
            ThreePointArc((-68.138474696, 16.035843167), (-67.61480784, 18.117333157), (-67.027571645, 20.181789795))
            Line((-67.027571645, 20.181789795), (-62.027571645, 20.181789795))
            Line((-62.027571645, 20.181789795), (-60.488481, 24.410406588))
            Line((-60.488481, 24.410406588), (-64.318703216, 27.624344637))
            ThreePointArc((-64.318703216, 27.624344637), (-63.441545093, 29.583278322), (-62.504741202, 31.514398729))
            Line((-62.504741202, 31.514398729), (-57.580702437, 30.646157841))
            Line((-57.580702437, 30.646157841), (-55.330702437, 34.543272158))
            Line((-55.330702437, 34.543272158), (-58.544640485, 38.373494373))
            ThreePointArc((-58.544640485, 38.373494373), (-57.3406431, 40.150350545), (-56.082735826, 41.889458605))
            Line((-56.082735826, 41.889458605), (-51.384272722, 40.179357889))
            Line((-51.384272722, 40.179357889), (-48.491728479, 43.626557883))
            Line((-48.491728479, 43.626557883), (-50.991728479, 47.956684902))
            ThreePointArc((-50.991728479, 47.956684902), (-49.497474683, 49.497474683), (-47.956684902, 50.991728479))
            Line((-47.956684902, 50.991728479), (-43.626557883, 48.491728479))
            Line((-43.626557883, 48.491728479), (-40.179357889, 51.384272722))
            Line((-40.179357889, 51.384272722), (-41.889458605, 56.082735826))
            ThreePointArc((-41.889458605, 56.082735826), (-40.150350545, 57.3406431), (-38.373494373, 58.544640485))
            Line((-38.373494373, 58.544640485), (-34.543272158, 55.330702437))
            Line((-34.543272158, 55.330702437), (-30.646157841, 57.580702437))
            Line((-30.646157841, 57.580702437), (-31.514398729, 62.504741202))
            ThreePointArc((-31.514398729, 62.504741202), (-29.583278322, 63.441545093), (-27.624344637, 64.318703216))
            Line((-27.624344637, 64.318703216), (-24.410406588, 60.488481))
            Line((-24.410406588, 60.488481), (-20.181789795, 62.027571645))
            Line((-20.181789795, 62.027571645), (-20.181789795, 67.027571645))
            ThreePointArc((-20.181789795, 67.027571645), (-18.117333157, 67.61480784), (-16.035843167, 68.138474696))
            Line((-16.035843167, 68.138474696), (-13.535843167, 63.808347677))
            Line((-13.535843167, 63.808347677), (-9.104208278, 64.589764477))
            Line((-9.104208278, 64.589764477), (-8.23596739, 69.513803242))
            ThreePointArc((-8.23596739, 69.513803242), (-6.100901992, 69.733628866), (-3.960100717, 69.887893103))
        make_face()
    extrude(amount=BOSS_EXTRUDE1_DEPTH)

    # Sketch2 → Boss-Extrude2 (add)
    with BuildSketch(Plane.XY):
        Circle(SKETCH2_R)
    extrude(amount=-BOSS_EXTRUDE2_DEPTH)

    # Sketch3 → Cut-Extrude1 (cut, through all)
    with BuildSketch(Plane.XY.offset(20)):
        with Locations((0, 50)):
            Circle(SKETCH3_R)
    extrude(amount=-CUT_EXTRUDE1_DEPTH, mode=Mode.SUBTRACT)


solid = part.part
